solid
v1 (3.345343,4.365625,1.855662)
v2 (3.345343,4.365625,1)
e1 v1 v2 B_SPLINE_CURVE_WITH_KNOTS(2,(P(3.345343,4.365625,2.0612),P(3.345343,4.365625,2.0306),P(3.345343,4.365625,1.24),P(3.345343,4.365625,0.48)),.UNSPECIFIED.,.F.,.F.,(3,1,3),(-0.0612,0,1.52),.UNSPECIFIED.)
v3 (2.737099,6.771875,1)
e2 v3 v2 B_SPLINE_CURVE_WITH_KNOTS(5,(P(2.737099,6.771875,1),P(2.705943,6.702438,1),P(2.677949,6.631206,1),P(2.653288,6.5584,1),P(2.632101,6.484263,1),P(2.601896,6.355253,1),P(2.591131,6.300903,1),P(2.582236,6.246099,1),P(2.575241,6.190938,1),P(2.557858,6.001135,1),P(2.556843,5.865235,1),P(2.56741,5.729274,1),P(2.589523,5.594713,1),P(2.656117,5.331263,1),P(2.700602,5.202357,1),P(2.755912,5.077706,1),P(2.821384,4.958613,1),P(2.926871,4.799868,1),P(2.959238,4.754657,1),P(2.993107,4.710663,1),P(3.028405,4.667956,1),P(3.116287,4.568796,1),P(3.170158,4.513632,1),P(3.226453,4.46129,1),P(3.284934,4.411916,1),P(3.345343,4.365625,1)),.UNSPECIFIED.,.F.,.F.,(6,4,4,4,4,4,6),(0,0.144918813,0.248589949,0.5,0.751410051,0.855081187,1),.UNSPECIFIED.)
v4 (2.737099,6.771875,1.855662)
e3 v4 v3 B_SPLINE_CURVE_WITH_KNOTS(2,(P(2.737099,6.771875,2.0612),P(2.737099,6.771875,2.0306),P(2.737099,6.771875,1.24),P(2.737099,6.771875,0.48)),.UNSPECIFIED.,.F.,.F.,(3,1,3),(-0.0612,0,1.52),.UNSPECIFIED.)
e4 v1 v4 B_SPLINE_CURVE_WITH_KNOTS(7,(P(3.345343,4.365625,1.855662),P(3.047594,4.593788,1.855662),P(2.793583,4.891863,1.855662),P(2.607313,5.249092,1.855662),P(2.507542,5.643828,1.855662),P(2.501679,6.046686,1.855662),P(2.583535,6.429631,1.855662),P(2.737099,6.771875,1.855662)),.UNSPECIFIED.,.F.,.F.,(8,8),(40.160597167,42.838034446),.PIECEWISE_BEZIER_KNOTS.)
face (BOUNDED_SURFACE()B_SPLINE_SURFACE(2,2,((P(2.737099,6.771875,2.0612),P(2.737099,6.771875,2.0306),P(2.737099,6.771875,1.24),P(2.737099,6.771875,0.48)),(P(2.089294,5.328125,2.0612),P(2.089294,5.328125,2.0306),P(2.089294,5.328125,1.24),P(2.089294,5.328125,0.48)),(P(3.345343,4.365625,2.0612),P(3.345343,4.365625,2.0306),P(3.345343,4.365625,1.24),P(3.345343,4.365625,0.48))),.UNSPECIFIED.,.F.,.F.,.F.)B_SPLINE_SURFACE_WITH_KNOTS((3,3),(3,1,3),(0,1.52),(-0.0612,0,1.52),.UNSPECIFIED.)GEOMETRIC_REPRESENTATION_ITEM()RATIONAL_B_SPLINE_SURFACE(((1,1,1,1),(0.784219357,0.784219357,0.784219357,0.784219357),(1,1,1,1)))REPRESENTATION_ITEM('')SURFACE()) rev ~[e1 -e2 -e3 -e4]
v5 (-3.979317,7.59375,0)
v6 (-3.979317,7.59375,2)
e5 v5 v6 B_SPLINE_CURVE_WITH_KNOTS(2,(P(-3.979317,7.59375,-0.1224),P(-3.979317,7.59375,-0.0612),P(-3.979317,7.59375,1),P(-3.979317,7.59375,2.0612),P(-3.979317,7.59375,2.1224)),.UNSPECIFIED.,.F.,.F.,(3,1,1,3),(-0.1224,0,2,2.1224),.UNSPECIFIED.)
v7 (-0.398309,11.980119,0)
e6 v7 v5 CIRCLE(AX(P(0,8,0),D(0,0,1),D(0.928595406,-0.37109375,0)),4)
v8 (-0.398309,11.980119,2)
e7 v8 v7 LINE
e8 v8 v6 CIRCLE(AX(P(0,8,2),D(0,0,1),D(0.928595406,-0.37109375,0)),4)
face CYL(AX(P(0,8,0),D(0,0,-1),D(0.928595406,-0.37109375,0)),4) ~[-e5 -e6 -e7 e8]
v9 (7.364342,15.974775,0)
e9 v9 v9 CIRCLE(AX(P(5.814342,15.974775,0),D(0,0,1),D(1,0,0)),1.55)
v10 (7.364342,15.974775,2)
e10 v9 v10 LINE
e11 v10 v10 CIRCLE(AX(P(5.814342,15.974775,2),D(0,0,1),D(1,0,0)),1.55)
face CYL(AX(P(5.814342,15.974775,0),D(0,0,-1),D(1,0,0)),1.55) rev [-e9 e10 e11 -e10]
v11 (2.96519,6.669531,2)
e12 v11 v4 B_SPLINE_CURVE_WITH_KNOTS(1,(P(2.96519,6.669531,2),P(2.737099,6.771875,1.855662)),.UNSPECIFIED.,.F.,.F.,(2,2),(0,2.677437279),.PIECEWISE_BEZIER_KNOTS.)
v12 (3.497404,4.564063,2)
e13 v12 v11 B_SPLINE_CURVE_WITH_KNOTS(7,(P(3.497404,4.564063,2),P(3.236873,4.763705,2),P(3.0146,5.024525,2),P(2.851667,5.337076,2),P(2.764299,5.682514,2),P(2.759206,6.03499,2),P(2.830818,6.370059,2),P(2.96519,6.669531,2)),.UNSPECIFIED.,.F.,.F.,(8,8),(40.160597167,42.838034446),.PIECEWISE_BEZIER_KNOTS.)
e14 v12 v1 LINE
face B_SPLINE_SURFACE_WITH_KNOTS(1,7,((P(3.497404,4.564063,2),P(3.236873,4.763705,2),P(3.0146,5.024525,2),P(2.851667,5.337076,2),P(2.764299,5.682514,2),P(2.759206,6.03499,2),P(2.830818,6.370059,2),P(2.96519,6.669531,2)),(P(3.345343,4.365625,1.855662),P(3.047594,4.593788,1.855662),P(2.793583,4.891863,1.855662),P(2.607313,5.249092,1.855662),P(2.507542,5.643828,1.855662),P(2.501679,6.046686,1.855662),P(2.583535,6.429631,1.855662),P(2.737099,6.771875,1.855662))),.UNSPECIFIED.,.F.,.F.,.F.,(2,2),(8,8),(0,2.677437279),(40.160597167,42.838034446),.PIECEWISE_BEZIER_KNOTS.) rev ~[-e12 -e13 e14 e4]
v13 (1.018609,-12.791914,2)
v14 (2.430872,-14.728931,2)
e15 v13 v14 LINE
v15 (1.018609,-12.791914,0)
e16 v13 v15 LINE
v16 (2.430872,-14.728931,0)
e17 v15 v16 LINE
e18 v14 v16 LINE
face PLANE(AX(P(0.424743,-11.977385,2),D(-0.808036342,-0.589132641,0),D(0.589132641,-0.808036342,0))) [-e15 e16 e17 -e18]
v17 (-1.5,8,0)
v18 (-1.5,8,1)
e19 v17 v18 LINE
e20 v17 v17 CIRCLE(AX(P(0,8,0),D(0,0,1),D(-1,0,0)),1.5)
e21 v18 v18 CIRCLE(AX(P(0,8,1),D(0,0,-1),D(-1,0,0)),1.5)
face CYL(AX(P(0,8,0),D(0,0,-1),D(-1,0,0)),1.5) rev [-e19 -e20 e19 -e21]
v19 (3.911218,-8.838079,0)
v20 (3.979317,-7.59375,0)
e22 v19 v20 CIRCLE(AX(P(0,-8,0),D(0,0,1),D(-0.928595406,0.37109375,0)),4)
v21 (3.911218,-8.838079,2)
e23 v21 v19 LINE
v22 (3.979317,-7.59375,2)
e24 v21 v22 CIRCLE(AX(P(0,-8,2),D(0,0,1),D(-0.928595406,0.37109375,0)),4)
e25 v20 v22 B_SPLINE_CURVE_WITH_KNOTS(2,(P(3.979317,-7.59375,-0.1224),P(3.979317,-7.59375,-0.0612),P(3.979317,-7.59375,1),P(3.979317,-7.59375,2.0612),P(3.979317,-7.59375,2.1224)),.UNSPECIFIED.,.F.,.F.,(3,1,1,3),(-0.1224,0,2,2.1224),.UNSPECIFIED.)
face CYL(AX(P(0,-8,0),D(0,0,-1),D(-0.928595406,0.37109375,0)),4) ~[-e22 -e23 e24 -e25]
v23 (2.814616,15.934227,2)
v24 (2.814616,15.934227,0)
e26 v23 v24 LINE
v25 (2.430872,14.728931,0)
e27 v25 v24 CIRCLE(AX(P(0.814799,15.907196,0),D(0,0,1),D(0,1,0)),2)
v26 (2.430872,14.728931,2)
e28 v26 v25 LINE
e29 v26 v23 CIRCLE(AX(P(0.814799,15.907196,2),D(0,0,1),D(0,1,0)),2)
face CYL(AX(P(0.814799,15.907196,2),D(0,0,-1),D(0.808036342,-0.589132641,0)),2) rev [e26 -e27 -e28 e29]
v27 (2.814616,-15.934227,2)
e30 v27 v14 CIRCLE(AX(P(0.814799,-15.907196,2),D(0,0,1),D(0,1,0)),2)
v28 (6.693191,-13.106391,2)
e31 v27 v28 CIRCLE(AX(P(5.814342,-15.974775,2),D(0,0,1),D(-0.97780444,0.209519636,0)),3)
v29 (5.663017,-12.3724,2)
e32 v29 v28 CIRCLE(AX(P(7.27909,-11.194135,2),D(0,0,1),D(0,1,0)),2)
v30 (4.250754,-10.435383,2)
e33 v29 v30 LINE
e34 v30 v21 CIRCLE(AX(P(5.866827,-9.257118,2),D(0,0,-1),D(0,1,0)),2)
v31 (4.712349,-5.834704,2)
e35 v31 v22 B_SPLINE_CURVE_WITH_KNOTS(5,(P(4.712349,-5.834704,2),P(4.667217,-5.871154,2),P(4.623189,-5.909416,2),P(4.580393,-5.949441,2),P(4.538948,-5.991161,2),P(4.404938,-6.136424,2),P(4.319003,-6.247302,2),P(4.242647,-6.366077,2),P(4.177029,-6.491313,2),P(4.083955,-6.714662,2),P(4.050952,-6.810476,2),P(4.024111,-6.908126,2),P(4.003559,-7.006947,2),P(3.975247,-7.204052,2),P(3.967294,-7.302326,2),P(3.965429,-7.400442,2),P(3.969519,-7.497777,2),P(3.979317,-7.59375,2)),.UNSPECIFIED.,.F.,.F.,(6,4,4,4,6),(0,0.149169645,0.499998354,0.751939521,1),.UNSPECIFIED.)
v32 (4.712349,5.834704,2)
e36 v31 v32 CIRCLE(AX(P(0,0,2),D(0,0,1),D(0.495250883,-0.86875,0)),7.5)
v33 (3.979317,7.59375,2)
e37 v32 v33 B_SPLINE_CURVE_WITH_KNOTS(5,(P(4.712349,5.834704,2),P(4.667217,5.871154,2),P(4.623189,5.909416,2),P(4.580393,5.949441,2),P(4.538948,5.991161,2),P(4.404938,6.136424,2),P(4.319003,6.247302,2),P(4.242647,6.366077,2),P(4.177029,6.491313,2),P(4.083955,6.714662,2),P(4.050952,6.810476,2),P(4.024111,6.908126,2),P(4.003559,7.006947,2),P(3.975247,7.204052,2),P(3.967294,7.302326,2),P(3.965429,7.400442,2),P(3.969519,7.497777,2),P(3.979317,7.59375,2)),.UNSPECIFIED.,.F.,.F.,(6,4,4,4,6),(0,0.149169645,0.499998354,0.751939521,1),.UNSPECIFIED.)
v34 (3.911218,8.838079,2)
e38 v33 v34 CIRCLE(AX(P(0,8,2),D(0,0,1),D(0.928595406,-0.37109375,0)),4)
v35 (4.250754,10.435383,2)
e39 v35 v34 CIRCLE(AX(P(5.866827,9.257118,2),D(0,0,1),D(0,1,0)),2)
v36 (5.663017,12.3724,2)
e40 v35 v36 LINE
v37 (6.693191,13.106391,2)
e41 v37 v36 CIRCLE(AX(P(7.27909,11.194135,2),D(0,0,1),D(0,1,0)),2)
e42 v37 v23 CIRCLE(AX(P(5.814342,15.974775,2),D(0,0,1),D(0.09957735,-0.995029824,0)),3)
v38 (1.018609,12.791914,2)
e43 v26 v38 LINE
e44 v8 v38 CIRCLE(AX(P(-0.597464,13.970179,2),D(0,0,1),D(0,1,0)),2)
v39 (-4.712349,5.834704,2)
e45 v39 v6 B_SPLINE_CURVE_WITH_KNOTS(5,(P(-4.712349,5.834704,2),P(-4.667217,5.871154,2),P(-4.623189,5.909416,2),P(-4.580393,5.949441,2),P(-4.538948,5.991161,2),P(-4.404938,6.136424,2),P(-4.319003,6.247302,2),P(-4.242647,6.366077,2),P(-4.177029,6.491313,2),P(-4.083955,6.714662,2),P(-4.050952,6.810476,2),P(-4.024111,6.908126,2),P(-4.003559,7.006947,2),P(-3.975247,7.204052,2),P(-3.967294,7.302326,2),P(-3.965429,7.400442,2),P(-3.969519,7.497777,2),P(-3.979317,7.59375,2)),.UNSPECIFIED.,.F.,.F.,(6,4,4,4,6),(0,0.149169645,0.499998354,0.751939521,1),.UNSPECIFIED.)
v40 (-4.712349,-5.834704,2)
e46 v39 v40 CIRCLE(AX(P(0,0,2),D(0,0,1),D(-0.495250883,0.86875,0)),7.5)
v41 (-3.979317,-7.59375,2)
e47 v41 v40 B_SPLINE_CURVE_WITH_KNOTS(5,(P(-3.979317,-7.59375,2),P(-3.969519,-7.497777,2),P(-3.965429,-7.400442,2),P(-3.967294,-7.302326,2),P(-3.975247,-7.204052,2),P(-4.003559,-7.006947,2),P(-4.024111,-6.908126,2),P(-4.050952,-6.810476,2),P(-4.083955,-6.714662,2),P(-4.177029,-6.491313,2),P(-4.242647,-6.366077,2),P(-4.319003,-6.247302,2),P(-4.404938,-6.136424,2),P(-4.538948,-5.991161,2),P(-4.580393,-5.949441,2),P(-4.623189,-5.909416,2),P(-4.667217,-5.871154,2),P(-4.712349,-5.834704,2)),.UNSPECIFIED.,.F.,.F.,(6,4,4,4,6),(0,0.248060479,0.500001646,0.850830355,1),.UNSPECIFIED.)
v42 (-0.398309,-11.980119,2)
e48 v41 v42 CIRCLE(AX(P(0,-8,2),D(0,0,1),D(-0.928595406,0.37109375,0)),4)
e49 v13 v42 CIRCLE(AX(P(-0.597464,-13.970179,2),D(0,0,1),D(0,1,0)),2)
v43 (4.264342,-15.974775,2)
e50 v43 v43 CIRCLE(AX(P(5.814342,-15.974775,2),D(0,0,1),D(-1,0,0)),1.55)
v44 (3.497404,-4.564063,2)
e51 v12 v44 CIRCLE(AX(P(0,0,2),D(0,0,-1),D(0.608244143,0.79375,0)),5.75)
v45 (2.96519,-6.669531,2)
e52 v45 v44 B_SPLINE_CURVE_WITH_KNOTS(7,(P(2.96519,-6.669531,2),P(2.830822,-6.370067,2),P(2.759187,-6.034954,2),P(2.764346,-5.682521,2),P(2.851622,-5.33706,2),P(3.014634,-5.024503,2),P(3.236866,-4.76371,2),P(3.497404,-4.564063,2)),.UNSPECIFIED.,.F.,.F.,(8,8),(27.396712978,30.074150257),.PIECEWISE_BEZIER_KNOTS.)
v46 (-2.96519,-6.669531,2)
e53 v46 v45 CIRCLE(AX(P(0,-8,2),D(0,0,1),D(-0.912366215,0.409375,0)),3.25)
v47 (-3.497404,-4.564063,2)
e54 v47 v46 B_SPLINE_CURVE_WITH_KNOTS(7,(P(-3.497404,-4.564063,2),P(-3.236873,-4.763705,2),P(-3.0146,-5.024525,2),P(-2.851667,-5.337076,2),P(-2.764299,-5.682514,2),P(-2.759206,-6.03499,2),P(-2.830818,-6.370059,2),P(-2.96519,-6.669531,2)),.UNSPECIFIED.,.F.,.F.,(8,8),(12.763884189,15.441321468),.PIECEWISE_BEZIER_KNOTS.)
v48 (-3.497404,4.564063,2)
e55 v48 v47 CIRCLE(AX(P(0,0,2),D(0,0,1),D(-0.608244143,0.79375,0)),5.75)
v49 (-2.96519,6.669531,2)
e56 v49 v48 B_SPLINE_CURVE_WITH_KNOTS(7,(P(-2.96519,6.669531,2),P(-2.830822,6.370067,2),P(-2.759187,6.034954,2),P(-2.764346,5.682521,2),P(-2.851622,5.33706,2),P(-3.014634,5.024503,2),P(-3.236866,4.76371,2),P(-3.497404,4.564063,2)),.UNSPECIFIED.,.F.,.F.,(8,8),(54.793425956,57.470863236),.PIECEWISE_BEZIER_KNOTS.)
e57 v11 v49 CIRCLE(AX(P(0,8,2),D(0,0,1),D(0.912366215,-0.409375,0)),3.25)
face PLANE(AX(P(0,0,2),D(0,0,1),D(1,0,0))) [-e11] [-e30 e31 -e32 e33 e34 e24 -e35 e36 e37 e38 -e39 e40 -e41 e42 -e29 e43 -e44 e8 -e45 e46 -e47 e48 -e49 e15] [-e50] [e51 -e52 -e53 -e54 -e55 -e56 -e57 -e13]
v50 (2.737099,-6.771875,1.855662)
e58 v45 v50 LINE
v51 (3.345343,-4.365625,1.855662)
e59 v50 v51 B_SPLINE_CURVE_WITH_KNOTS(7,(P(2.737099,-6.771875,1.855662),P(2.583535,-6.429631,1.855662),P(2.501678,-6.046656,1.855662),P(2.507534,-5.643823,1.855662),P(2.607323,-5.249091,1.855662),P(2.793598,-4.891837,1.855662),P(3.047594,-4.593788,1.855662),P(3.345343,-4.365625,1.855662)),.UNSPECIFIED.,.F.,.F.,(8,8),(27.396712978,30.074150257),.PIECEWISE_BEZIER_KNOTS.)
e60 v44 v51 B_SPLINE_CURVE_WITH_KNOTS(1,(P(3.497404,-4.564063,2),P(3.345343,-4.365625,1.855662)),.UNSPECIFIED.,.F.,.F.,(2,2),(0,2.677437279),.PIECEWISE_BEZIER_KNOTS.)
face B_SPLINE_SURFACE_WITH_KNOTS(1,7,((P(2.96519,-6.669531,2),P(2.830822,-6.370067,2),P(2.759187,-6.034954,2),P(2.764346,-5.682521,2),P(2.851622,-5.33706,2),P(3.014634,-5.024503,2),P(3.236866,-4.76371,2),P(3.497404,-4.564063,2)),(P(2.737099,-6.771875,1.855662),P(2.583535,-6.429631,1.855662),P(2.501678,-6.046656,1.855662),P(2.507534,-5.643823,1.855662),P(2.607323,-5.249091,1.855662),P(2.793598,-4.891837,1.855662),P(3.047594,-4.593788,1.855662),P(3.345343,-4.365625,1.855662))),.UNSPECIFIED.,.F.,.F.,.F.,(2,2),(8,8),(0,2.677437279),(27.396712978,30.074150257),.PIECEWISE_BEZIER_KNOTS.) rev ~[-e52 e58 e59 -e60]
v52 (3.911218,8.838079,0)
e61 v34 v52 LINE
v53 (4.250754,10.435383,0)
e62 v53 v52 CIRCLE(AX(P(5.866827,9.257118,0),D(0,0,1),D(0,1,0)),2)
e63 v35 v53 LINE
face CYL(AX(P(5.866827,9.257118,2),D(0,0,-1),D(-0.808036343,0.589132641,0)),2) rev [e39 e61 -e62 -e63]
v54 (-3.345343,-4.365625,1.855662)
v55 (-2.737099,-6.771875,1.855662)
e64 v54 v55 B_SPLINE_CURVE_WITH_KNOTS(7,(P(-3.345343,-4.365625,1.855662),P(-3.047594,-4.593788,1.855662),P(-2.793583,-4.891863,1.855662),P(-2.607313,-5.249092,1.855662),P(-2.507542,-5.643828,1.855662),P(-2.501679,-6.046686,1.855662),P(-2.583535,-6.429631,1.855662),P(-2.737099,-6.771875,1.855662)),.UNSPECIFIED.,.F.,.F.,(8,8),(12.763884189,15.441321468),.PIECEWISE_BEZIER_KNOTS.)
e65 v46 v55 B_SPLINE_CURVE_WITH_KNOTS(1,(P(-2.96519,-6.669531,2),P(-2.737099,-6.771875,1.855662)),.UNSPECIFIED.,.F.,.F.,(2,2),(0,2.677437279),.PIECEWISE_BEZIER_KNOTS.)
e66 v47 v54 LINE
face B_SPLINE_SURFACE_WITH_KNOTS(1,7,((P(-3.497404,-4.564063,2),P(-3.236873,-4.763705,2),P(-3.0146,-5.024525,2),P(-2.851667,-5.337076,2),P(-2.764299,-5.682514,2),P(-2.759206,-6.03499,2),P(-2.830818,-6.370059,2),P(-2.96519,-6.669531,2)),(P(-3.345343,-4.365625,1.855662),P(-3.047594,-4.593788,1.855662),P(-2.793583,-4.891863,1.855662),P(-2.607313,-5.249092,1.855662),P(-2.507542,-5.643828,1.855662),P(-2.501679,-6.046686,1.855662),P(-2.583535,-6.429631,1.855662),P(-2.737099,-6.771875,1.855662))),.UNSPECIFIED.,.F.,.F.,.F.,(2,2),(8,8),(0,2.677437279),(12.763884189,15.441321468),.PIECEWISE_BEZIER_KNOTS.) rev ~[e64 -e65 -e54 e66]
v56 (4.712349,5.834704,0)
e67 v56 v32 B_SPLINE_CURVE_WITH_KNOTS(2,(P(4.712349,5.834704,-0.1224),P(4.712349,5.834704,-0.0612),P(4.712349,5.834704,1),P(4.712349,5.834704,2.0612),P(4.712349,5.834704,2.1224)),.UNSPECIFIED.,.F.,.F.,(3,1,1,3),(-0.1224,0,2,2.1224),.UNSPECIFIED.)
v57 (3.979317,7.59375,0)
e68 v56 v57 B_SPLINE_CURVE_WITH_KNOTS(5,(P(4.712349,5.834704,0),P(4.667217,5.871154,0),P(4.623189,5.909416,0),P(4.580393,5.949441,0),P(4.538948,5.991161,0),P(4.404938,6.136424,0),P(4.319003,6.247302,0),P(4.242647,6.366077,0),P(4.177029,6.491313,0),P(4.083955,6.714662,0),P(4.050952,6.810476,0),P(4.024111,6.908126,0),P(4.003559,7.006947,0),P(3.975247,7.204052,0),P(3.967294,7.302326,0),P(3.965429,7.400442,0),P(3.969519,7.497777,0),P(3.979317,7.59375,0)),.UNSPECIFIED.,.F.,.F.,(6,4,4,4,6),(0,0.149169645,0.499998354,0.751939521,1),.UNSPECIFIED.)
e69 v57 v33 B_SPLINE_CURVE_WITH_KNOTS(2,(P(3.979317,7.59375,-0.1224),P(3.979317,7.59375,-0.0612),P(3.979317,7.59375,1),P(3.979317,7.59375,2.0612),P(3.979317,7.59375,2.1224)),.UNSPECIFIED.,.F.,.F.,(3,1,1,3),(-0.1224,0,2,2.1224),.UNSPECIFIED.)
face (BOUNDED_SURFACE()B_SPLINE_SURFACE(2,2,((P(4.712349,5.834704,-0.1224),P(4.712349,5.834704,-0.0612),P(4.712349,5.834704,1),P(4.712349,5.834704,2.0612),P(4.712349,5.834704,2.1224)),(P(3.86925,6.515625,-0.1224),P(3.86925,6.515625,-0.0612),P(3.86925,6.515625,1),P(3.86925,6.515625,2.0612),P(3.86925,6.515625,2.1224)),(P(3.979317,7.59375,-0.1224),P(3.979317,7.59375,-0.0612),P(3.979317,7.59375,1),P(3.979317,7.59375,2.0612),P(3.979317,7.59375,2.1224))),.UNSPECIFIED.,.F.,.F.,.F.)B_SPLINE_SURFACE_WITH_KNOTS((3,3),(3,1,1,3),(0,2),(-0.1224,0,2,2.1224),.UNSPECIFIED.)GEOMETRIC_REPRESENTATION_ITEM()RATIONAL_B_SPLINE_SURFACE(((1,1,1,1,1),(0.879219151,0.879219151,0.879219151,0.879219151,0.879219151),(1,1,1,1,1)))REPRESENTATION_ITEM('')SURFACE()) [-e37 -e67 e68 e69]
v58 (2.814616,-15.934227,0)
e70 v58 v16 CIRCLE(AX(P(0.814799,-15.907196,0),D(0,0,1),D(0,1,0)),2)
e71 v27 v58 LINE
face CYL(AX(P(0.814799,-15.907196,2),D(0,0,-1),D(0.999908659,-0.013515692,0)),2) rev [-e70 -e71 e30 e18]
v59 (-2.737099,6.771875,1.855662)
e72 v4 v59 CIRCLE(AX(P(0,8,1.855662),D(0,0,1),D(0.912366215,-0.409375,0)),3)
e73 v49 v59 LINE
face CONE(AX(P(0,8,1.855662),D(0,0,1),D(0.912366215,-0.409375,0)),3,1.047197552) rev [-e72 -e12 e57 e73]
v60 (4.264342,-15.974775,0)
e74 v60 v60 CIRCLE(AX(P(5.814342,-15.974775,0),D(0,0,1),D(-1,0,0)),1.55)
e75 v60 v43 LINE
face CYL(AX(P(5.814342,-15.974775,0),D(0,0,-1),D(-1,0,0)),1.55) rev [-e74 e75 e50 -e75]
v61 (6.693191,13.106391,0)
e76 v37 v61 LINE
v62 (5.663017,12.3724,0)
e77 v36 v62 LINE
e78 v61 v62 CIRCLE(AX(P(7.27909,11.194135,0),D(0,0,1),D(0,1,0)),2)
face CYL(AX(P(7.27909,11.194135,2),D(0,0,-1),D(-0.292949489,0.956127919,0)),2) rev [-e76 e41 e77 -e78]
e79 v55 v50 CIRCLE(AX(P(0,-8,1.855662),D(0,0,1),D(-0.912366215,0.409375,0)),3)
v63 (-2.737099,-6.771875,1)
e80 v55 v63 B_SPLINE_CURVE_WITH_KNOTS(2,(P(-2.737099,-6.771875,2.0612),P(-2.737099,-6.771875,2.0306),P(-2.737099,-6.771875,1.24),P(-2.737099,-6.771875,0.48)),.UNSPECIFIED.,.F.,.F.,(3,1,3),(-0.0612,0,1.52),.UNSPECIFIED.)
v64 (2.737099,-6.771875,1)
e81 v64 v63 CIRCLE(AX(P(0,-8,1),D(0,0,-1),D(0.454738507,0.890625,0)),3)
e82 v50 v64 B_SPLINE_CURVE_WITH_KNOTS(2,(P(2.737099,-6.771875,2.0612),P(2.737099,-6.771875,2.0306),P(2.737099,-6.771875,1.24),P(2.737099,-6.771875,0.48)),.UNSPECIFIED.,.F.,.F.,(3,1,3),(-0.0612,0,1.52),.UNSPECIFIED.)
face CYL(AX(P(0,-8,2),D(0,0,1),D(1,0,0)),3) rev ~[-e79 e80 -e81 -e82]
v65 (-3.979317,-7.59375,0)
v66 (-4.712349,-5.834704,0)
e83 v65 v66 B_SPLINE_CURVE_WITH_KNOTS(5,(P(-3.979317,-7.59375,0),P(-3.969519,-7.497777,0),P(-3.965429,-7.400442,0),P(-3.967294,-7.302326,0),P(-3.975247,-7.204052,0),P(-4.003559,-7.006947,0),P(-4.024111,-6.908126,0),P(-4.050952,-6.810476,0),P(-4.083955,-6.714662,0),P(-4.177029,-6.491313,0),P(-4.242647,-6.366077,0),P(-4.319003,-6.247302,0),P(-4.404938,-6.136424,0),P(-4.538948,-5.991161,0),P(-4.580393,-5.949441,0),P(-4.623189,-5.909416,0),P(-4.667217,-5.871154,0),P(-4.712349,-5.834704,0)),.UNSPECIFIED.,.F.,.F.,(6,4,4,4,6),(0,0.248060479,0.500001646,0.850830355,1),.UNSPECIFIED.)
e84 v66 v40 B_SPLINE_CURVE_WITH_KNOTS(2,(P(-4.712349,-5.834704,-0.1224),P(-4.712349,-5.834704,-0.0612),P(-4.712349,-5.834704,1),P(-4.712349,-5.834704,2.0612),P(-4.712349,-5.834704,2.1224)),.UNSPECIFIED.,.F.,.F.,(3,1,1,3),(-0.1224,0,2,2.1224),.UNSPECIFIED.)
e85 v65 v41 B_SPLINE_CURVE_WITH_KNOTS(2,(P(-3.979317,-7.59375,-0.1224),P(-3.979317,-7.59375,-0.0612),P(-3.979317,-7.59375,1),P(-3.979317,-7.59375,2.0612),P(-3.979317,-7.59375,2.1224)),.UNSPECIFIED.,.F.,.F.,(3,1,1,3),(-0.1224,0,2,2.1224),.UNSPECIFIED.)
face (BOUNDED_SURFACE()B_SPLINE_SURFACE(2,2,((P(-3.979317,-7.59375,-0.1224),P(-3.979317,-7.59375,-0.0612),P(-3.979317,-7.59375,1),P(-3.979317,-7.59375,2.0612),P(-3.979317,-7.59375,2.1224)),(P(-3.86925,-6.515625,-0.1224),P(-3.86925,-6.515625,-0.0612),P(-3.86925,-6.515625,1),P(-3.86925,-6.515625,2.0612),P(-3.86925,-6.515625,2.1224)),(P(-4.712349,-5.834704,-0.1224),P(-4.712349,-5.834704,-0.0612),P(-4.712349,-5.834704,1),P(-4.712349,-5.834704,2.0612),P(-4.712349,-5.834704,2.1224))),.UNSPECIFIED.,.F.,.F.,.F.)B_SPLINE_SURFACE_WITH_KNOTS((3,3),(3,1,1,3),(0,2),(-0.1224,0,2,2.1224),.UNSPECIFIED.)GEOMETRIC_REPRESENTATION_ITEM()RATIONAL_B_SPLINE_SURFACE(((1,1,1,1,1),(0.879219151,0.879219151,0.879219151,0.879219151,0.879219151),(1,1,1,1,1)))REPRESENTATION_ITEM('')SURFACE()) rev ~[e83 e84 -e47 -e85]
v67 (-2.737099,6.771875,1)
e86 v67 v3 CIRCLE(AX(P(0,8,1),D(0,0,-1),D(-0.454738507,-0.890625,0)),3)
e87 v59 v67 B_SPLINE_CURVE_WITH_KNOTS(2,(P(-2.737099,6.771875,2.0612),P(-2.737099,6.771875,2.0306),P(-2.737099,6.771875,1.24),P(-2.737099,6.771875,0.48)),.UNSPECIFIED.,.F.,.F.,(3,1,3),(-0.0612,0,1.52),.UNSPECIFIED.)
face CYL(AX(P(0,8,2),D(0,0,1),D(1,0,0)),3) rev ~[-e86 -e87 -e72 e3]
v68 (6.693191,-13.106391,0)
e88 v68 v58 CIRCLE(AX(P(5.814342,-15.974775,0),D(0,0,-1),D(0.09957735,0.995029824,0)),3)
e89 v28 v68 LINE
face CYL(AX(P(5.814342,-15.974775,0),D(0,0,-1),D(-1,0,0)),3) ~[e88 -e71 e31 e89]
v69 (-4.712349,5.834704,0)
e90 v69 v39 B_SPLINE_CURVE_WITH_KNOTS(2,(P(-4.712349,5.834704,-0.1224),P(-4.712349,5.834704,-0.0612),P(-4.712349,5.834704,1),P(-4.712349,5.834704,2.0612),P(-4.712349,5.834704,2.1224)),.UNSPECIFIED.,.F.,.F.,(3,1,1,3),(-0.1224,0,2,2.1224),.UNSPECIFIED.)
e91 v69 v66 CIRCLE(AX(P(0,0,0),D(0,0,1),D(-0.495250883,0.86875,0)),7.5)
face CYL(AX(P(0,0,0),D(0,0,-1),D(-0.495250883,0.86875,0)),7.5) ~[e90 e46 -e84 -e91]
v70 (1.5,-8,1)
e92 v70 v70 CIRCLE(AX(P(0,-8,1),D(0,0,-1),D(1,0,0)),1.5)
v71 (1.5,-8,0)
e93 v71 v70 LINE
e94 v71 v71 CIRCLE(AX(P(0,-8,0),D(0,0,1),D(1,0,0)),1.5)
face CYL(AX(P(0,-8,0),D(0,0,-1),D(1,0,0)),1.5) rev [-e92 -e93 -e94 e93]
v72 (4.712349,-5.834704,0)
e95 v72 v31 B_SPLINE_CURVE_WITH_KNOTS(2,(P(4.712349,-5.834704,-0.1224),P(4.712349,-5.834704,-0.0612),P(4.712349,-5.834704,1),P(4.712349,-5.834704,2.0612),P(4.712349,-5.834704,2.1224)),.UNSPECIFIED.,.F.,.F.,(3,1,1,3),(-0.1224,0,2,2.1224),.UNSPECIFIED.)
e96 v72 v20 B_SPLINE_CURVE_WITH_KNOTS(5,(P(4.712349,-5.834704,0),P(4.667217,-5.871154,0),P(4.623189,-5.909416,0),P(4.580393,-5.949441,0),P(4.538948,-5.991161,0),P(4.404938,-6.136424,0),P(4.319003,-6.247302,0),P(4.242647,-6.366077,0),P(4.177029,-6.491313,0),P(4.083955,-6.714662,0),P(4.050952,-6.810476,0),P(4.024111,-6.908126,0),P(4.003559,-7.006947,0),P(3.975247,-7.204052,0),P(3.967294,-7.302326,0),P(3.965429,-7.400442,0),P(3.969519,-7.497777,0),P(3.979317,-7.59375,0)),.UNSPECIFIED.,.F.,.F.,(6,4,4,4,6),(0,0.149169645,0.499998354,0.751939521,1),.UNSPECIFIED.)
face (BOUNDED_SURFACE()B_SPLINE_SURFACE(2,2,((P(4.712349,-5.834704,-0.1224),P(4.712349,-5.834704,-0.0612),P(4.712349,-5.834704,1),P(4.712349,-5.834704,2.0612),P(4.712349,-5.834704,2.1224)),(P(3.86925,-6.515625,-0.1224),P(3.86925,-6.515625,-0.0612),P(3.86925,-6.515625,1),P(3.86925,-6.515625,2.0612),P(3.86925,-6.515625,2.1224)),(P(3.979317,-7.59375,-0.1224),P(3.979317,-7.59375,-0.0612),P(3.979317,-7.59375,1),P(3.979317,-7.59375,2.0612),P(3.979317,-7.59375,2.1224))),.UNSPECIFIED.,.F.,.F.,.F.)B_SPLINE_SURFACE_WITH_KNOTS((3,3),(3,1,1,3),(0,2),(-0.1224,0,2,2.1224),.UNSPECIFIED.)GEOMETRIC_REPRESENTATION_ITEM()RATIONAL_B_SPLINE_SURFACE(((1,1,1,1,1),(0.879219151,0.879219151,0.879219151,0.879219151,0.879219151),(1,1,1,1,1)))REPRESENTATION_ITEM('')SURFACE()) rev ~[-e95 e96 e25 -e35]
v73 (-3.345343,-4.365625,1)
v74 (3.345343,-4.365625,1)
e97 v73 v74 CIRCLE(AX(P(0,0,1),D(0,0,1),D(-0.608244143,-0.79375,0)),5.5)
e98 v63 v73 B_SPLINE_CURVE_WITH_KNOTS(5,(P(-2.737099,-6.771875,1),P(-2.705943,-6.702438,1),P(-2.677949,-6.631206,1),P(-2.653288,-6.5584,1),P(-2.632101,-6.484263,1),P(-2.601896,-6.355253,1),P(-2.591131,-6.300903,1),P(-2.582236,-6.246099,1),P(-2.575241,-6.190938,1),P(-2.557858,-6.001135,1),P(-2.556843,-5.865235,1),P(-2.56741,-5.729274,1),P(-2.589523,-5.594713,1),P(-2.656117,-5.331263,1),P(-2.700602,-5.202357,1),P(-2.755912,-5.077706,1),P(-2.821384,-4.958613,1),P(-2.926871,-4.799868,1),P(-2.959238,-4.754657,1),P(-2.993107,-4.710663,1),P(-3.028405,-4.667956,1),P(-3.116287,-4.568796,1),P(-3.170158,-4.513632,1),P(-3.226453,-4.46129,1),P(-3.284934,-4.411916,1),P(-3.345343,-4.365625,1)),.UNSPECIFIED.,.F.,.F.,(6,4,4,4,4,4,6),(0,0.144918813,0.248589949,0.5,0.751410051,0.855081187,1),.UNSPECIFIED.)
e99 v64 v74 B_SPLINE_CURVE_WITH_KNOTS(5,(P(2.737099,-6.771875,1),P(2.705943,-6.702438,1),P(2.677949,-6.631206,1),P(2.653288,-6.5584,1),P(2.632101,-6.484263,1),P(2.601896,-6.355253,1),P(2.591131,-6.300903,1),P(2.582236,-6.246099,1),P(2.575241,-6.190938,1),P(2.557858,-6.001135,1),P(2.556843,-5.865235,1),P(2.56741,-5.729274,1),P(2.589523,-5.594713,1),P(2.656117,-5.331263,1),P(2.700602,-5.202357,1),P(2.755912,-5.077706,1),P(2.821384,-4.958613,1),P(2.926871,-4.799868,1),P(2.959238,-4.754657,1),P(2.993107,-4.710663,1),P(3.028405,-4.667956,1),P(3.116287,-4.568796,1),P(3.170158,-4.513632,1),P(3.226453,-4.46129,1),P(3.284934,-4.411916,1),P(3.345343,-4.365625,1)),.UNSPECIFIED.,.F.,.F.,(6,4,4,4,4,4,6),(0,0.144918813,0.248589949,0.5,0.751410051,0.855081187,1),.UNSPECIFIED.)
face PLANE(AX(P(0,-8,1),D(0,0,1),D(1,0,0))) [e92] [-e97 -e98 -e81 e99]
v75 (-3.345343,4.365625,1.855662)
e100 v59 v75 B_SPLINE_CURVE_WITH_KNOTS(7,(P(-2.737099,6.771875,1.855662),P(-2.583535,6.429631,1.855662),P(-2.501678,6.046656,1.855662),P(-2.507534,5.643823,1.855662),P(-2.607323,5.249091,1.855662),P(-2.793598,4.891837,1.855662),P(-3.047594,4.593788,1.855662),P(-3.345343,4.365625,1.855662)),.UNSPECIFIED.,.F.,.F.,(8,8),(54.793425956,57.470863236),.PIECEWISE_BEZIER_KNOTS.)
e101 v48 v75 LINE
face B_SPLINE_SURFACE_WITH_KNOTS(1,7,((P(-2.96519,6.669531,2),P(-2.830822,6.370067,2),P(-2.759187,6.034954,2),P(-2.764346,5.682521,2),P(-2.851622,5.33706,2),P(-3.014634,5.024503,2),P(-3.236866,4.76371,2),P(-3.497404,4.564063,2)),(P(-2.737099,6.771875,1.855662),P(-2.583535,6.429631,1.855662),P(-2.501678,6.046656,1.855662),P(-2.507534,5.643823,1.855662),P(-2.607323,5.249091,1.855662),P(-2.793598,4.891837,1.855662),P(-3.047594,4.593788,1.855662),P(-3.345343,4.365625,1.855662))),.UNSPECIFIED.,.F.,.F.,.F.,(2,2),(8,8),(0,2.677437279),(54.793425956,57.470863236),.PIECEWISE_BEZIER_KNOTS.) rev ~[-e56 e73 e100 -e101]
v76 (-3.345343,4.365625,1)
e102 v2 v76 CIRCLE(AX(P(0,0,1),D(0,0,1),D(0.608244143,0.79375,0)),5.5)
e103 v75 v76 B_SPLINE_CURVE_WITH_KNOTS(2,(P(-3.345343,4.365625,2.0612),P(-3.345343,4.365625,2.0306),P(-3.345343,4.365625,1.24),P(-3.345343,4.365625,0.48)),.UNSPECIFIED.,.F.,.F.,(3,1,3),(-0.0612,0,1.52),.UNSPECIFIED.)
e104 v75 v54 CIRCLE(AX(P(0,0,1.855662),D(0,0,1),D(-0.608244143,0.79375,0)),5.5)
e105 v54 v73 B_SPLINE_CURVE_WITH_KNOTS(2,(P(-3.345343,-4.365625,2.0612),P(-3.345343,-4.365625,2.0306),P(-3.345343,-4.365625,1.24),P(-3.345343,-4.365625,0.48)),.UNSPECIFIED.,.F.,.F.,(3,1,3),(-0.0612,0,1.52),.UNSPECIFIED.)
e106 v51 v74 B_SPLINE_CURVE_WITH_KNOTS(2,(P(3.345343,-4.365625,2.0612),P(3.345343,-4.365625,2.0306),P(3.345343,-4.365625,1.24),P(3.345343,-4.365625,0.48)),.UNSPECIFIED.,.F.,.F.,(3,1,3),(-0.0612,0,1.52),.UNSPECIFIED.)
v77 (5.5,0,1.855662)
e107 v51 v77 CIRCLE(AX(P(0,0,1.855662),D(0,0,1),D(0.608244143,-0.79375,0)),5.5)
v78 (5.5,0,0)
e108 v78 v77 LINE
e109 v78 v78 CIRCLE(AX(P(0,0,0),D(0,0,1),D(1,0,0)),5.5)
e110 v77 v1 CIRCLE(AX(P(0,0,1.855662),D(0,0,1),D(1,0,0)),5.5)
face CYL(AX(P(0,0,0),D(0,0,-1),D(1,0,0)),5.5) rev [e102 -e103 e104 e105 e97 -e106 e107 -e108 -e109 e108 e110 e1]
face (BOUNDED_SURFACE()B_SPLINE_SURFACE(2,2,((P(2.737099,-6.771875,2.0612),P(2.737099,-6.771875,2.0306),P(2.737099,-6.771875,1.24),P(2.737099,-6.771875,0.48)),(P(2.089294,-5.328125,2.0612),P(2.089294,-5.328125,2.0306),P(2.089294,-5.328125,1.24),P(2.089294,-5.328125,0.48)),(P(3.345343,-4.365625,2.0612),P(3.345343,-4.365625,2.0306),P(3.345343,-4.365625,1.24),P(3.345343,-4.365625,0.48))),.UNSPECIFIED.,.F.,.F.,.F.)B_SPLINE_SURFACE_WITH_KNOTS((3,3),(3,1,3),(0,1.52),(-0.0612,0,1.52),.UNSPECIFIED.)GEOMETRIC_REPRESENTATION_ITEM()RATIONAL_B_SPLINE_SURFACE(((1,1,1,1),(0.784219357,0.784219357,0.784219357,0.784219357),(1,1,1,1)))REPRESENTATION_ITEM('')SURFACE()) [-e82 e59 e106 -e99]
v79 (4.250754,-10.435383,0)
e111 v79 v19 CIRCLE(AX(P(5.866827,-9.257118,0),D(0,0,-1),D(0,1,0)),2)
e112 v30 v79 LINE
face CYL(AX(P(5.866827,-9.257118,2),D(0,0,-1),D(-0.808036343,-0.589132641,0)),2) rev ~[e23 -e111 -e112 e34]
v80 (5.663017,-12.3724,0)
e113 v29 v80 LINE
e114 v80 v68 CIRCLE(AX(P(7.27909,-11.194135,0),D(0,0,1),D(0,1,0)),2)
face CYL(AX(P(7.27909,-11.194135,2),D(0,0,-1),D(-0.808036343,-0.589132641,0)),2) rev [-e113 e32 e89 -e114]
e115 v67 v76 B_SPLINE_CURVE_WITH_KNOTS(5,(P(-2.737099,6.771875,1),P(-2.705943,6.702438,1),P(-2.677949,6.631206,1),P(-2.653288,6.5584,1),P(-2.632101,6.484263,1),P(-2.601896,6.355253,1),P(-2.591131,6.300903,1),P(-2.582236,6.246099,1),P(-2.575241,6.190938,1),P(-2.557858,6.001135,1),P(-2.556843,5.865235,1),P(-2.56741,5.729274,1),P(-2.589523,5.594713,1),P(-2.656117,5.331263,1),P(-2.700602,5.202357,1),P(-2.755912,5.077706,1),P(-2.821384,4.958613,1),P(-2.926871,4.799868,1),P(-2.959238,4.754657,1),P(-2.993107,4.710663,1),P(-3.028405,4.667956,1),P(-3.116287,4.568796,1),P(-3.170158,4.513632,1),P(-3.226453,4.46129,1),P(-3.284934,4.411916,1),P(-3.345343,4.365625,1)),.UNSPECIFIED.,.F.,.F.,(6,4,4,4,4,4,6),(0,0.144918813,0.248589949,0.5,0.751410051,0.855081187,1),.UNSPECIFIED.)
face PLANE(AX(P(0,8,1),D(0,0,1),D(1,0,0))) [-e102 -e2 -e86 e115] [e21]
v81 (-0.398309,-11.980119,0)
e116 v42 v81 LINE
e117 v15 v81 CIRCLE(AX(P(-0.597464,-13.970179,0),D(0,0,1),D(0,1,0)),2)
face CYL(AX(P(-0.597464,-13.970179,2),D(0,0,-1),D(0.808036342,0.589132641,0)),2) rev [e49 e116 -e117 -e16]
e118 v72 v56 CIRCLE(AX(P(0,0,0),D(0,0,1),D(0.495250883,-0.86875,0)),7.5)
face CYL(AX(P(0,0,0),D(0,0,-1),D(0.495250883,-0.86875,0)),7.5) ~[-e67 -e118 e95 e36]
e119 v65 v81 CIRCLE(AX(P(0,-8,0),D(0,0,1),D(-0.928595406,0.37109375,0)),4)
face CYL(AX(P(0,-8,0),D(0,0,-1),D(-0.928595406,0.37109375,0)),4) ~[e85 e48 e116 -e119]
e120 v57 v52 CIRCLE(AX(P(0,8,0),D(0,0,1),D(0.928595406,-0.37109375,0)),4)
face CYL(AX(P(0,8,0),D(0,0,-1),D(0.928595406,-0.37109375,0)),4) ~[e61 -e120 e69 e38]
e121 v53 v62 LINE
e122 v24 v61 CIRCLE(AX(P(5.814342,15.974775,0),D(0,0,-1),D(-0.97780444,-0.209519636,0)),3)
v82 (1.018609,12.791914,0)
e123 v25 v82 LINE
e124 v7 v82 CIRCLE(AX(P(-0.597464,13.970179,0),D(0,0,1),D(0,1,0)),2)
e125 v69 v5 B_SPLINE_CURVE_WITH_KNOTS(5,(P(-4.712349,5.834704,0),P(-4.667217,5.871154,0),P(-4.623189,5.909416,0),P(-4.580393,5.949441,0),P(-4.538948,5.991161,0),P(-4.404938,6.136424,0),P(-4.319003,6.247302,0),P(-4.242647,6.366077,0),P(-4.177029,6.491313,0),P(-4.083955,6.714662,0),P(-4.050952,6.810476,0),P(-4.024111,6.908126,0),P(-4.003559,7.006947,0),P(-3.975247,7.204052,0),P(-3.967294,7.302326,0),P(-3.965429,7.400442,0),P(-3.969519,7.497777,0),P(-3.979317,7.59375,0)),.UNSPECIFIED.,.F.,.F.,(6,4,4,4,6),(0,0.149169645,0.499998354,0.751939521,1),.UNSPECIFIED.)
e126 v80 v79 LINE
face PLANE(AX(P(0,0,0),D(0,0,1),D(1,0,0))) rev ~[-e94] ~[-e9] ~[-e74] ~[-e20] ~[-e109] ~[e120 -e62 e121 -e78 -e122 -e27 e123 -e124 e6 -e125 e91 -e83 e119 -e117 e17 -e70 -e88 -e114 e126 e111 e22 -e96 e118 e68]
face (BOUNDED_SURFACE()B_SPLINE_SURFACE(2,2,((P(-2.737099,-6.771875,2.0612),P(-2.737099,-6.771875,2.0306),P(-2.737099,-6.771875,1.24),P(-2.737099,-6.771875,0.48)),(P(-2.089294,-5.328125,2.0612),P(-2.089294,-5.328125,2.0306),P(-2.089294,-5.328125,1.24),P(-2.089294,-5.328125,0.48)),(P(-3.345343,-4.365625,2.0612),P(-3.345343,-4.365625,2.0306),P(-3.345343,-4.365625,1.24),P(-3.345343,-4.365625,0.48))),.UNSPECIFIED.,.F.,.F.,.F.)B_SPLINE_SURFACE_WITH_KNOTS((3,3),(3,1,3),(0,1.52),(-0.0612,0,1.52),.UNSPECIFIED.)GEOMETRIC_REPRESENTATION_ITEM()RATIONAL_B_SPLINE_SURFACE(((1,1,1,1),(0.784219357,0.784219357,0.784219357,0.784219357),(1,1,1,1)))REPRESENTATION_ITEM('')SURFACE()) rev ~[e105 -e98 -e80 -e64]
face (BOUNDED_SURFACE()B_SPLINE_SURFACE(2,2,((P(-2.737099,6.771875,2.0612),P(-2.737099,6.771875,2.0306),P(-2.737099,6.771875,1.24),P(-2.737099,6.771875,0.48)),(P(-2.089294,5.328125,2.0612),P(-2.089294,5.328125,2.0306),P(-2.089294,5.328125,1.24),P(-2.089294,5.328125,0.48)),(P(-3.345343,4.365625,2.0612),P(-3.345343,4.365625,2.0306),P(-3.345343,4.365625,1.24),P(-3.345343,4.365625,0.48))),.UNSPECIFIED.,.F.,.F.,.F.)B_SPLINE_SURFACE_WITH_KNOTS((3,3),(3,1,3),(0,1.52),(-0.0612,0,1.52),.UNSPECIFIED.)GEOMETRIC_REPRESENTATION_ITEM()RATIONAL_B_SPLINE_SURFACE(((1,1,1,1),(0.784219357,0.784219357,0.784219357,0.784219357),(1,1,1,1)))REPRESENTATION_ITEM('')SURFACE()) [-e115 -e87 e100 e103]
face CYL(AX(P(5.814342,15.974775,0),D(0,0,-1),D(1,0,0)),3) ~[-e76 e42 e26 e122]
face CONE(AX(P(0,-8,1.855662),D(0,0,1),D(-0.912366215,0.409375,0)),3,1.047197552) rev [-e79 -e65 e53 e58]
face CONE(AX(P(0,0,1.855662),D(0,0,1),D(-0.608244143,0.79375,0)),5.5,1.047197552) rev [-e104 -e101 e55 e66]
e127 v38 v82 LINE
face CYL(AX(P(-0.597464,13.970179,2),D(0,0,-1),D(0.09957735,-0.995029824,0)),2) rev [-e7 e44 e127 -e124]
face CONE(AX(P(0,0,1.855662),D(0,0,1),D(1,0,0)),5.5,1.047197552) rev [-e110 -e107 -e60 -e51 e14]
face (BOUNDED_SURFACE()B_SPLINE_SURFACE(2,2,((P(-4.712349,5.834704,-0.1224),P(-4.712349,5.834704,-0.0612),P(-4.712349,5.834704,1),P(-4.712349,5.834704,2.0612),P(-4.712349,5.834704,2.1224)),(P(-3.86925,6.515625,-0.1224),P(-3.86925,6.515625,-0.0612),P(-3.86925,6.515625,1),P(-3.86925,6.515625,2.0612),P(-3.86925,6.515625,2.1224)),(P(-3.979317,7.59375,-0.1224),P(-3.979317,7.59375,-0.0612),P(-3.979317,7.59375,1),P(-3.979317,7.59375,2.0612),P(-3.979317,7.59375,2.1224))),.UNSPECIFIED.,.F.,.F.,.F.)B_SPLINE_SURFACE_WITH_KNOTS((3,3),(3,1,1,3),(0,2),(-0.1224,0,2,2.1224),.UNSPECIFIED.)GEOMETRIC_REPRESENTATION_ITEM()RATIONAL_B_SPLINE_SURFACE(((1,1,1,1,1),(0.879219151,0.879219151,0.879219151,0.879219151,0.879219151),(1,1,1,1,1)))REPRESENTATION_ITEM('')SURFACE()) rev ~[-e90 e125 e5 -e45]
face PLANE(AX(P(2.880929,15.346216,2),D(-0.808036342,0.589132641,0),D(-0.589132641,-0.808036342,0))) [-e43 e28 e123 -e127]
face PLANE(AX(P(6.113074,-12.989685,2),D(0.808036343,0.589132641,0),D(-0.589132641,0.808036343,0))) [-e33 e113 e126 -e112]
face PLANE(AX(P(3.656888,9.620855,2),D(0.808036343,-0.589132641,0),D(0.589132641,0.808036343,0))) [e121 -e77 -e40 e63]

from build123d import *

# Parameters (mm, degrees)
SKETCH_1_R          = 3
SKETCH_1_R_2        = 1.55
EXTRUDE_1_DEPTH     = 2
EXTRUDE_1_2_DEPTH   = 2
SKETCH_1_R_3        = 5.5
SKETCH_1_R_4        = 1.5
EXTRUDE_1_3_DEPTH   = 2
EXTRUDE_2_DEPTH     = 2
SKETCH_3_R          = 3
CUT_EXTRUDE_1_DEPTH = 1
FILLET_2_R          = 2
CHAMFER_1_SIZE      = 0.25
CHAMFER_1_SIZE2     = 0.144337567


with BuildPart() as part:
    # ｽｹｯﾁ1 → ﾎﾞｽ - 押し出し1 (new body)
    with BuildSketch(Plane.XY):
        with Locations((5.814342437, 15.974774553)):
            Circle(SKETCH_1_R)
        with Locations((5.814342437, 15.974774553)):
            Circle(SKETCH_1_R_2, mode=Mode.SUBTRACT)
    extrude(amount=EXTRUDE_1_DEPTH)



with BuildPart() as body_2:
    # ｽｹｯﾁ1 → Extrude 1 2 (new body)
    with BuildSketch(Plane.XY):
        with Locations(Location((5.814342437, -15.974774553, 0), (0, 0, 180))):
            Circle(SKETCH_1_R)
        with Locations(Location((5.814342437, -15.974774553, 0), (0, 0, 180))):
            Circle(SKETCH_1_R_2, mode=Mode.SUBTRACT)
    extrude(amount=EXTRUDE_1_2_DEPTH)


with BuildPart() as body_3:
    # ｽｹｯﾁ1 → Extrude 1 3 (new body)
    with BuildSketch(Plane.XY):
        with BuildLine():
            ThreePointArc((3.714381625, -6.515625), (7.5, 0), (3.714381625, 6.515625))
            ThreePointArc((3.714381625, 6.515625), (0, 12), (-3.714381625, 6.515625))
            ThreePointArc((-3.714381625, 6.515625), (-7.5, 0), (-3.714381625, -6.515625))
            ThreePointArc((-3.714381625, -6.515625), (0, -12), (3.714381625, -6.515625))
        make_face()
        Circle(SKETCH_1_R_3, mode=Mode.SUBTRACT)
        with Locations((0, -8)):
            Circle(SKETCH_1_R_4, mode=Mode.SUBTRACT)
        with Locations(Location((0, 8, 0), (0, 0, 180))):
            Circle(SKETCH_1_R_4, mode=Mode.SUBTRACT)
    extrude(amount=EXTRUDE_1_3_DEPTH)


with BuildPart() as part_1:
    add(part.part)

    add(body_2.part)  # ﾎﾞｽ - 押し出し2 merges body 2

    add(body_3.part)  # ﾎﾞｽ - 押し出し2 merges body 3
    # ｽｹｯﾁ2 → ﾎﾞｽ - 押し出し2 (add, through all)
    with BuildSketch(Plane.XY.offset(2)):
        with BuildLine():
            Line((4.046944512, 13.550665526), (2.356530565, 11.23214537))
            ThreePointArc((2.356530565, 11.23214537), (3.112774512, 10.512097697), (3.65688802, 9.620854717))
            Line((3.65688802, 9.620854717), (6.113074488, 12.98968508))
            ThreePointArc((6.113074488, 12.98968508), (5.028263798, 13.079592284), (4.046944512, 13.550665526))
        make_face()
        with BuildLine():
            ThreePointArc((0.424742649, 11.977385282), (1.439692955, 11.731927678), (2.356530565, 11.23214537))
            Line((2.356530565, 11.23214537), (4.046944512, 13.550665526))
            ThreePointArc((4.046944512, 13.550665526), (3.2983125, 14.340885525), (2.880929118, 15.346215646))
            Line((2.880929118, 15.346215646), (0.424742649, 11.977385282))
        make_face()
        with BuildLine():
            ThreePointArc((3.65688802, -9.620854717), (2.356530565, -11.23214537), (0.424742649, -11.977385282))
            Line((0.424742649, -11.977385282), (2.880929118, -15.346215646))
            ThreePointArc((2.880929118, -15.346215646), (4.046944512, -13.550665526), (6.113074488, -12.98968508))
            Line((6.113074488, -12.98968508), (3.65688802, -9.620854717))
        make_face()
    extrude(amount=-EXTRUDE_2_DEPTH)

    # ｽｹｯﾁ3 → ｶｯﾄ - 押し出し1 (cut)
    with BuildSketch(Plane.XY.offset(2)):
        with Locations((0, 8)):
            Circle(SKETCH_3_R)
        with Locations((0, -8)):
            Circle(SKETCH_3_R)
    extrude(amount=-CUT_EXTRUDE_1_DEPTH, mode=Mode.SUBTRACT)

    # ﾌｨﾚｯﾄ2
    fillet_2_edges = [part_1.edges().sort_by_distance(p)[0] for p in [
        (2.880929118, 15.346215646, 1),
        (6.113074488, 12.98968508, 1),
        (3.65688802, 9.620854717, 1),
        (0.424742649, 11.977385282, 1),
        (2.880929118, -15.346215646, 1),
        (0.424742649, -11.977385282, 1),
        (3.65688802, -9.620854717, 1),
        (6.113074488, -12.98968508, 1),
        (-1.36421552, 5.328125, 1.5),
        (1.36421552, 5.328125, 1.5),
        (3.714381625, 6.515625, 1),
        (1.36421552, -5.328125, 1.5),
        (3.714381625, -6.515625, 1),
        (-1.36421552, -5.328125, 1.5),
        (-3.714381625, -6.515625, 1),
        (-3.714381625, 6.515625, 1),
    ]]
    fillet(fillet_2_edges, radius=FILLET_2_R)

    # 面取り1
    chamfer_1_edges = [part_1.edges().sort_by_distance(p)[0] for p in [
        (-2.622819565, 5.462987902, 2),
        (-2.622819565, -5.462987902, 2),
        (2.622819565, 5.462987902, 2),
        (2.622819565, -5.462987902, 2),
        (0, -11, 2),
        (4.932006961, 2.434195419, 2),
        (-5.5, 0, 2),
        (0, 11, 2),
    ]]
    chamfer_1_side = [part_1.faces().sort_by_distance(p)[0] for p in [
        (7.086923001, 0, 2),
    ]]
    chamfer(chamfer_1_edges, length=CHAMFER_1_SIZE, length2=CHAMFER_1_SIZE2, reference=chamfer_1_side[0])


solid = part_1.part
